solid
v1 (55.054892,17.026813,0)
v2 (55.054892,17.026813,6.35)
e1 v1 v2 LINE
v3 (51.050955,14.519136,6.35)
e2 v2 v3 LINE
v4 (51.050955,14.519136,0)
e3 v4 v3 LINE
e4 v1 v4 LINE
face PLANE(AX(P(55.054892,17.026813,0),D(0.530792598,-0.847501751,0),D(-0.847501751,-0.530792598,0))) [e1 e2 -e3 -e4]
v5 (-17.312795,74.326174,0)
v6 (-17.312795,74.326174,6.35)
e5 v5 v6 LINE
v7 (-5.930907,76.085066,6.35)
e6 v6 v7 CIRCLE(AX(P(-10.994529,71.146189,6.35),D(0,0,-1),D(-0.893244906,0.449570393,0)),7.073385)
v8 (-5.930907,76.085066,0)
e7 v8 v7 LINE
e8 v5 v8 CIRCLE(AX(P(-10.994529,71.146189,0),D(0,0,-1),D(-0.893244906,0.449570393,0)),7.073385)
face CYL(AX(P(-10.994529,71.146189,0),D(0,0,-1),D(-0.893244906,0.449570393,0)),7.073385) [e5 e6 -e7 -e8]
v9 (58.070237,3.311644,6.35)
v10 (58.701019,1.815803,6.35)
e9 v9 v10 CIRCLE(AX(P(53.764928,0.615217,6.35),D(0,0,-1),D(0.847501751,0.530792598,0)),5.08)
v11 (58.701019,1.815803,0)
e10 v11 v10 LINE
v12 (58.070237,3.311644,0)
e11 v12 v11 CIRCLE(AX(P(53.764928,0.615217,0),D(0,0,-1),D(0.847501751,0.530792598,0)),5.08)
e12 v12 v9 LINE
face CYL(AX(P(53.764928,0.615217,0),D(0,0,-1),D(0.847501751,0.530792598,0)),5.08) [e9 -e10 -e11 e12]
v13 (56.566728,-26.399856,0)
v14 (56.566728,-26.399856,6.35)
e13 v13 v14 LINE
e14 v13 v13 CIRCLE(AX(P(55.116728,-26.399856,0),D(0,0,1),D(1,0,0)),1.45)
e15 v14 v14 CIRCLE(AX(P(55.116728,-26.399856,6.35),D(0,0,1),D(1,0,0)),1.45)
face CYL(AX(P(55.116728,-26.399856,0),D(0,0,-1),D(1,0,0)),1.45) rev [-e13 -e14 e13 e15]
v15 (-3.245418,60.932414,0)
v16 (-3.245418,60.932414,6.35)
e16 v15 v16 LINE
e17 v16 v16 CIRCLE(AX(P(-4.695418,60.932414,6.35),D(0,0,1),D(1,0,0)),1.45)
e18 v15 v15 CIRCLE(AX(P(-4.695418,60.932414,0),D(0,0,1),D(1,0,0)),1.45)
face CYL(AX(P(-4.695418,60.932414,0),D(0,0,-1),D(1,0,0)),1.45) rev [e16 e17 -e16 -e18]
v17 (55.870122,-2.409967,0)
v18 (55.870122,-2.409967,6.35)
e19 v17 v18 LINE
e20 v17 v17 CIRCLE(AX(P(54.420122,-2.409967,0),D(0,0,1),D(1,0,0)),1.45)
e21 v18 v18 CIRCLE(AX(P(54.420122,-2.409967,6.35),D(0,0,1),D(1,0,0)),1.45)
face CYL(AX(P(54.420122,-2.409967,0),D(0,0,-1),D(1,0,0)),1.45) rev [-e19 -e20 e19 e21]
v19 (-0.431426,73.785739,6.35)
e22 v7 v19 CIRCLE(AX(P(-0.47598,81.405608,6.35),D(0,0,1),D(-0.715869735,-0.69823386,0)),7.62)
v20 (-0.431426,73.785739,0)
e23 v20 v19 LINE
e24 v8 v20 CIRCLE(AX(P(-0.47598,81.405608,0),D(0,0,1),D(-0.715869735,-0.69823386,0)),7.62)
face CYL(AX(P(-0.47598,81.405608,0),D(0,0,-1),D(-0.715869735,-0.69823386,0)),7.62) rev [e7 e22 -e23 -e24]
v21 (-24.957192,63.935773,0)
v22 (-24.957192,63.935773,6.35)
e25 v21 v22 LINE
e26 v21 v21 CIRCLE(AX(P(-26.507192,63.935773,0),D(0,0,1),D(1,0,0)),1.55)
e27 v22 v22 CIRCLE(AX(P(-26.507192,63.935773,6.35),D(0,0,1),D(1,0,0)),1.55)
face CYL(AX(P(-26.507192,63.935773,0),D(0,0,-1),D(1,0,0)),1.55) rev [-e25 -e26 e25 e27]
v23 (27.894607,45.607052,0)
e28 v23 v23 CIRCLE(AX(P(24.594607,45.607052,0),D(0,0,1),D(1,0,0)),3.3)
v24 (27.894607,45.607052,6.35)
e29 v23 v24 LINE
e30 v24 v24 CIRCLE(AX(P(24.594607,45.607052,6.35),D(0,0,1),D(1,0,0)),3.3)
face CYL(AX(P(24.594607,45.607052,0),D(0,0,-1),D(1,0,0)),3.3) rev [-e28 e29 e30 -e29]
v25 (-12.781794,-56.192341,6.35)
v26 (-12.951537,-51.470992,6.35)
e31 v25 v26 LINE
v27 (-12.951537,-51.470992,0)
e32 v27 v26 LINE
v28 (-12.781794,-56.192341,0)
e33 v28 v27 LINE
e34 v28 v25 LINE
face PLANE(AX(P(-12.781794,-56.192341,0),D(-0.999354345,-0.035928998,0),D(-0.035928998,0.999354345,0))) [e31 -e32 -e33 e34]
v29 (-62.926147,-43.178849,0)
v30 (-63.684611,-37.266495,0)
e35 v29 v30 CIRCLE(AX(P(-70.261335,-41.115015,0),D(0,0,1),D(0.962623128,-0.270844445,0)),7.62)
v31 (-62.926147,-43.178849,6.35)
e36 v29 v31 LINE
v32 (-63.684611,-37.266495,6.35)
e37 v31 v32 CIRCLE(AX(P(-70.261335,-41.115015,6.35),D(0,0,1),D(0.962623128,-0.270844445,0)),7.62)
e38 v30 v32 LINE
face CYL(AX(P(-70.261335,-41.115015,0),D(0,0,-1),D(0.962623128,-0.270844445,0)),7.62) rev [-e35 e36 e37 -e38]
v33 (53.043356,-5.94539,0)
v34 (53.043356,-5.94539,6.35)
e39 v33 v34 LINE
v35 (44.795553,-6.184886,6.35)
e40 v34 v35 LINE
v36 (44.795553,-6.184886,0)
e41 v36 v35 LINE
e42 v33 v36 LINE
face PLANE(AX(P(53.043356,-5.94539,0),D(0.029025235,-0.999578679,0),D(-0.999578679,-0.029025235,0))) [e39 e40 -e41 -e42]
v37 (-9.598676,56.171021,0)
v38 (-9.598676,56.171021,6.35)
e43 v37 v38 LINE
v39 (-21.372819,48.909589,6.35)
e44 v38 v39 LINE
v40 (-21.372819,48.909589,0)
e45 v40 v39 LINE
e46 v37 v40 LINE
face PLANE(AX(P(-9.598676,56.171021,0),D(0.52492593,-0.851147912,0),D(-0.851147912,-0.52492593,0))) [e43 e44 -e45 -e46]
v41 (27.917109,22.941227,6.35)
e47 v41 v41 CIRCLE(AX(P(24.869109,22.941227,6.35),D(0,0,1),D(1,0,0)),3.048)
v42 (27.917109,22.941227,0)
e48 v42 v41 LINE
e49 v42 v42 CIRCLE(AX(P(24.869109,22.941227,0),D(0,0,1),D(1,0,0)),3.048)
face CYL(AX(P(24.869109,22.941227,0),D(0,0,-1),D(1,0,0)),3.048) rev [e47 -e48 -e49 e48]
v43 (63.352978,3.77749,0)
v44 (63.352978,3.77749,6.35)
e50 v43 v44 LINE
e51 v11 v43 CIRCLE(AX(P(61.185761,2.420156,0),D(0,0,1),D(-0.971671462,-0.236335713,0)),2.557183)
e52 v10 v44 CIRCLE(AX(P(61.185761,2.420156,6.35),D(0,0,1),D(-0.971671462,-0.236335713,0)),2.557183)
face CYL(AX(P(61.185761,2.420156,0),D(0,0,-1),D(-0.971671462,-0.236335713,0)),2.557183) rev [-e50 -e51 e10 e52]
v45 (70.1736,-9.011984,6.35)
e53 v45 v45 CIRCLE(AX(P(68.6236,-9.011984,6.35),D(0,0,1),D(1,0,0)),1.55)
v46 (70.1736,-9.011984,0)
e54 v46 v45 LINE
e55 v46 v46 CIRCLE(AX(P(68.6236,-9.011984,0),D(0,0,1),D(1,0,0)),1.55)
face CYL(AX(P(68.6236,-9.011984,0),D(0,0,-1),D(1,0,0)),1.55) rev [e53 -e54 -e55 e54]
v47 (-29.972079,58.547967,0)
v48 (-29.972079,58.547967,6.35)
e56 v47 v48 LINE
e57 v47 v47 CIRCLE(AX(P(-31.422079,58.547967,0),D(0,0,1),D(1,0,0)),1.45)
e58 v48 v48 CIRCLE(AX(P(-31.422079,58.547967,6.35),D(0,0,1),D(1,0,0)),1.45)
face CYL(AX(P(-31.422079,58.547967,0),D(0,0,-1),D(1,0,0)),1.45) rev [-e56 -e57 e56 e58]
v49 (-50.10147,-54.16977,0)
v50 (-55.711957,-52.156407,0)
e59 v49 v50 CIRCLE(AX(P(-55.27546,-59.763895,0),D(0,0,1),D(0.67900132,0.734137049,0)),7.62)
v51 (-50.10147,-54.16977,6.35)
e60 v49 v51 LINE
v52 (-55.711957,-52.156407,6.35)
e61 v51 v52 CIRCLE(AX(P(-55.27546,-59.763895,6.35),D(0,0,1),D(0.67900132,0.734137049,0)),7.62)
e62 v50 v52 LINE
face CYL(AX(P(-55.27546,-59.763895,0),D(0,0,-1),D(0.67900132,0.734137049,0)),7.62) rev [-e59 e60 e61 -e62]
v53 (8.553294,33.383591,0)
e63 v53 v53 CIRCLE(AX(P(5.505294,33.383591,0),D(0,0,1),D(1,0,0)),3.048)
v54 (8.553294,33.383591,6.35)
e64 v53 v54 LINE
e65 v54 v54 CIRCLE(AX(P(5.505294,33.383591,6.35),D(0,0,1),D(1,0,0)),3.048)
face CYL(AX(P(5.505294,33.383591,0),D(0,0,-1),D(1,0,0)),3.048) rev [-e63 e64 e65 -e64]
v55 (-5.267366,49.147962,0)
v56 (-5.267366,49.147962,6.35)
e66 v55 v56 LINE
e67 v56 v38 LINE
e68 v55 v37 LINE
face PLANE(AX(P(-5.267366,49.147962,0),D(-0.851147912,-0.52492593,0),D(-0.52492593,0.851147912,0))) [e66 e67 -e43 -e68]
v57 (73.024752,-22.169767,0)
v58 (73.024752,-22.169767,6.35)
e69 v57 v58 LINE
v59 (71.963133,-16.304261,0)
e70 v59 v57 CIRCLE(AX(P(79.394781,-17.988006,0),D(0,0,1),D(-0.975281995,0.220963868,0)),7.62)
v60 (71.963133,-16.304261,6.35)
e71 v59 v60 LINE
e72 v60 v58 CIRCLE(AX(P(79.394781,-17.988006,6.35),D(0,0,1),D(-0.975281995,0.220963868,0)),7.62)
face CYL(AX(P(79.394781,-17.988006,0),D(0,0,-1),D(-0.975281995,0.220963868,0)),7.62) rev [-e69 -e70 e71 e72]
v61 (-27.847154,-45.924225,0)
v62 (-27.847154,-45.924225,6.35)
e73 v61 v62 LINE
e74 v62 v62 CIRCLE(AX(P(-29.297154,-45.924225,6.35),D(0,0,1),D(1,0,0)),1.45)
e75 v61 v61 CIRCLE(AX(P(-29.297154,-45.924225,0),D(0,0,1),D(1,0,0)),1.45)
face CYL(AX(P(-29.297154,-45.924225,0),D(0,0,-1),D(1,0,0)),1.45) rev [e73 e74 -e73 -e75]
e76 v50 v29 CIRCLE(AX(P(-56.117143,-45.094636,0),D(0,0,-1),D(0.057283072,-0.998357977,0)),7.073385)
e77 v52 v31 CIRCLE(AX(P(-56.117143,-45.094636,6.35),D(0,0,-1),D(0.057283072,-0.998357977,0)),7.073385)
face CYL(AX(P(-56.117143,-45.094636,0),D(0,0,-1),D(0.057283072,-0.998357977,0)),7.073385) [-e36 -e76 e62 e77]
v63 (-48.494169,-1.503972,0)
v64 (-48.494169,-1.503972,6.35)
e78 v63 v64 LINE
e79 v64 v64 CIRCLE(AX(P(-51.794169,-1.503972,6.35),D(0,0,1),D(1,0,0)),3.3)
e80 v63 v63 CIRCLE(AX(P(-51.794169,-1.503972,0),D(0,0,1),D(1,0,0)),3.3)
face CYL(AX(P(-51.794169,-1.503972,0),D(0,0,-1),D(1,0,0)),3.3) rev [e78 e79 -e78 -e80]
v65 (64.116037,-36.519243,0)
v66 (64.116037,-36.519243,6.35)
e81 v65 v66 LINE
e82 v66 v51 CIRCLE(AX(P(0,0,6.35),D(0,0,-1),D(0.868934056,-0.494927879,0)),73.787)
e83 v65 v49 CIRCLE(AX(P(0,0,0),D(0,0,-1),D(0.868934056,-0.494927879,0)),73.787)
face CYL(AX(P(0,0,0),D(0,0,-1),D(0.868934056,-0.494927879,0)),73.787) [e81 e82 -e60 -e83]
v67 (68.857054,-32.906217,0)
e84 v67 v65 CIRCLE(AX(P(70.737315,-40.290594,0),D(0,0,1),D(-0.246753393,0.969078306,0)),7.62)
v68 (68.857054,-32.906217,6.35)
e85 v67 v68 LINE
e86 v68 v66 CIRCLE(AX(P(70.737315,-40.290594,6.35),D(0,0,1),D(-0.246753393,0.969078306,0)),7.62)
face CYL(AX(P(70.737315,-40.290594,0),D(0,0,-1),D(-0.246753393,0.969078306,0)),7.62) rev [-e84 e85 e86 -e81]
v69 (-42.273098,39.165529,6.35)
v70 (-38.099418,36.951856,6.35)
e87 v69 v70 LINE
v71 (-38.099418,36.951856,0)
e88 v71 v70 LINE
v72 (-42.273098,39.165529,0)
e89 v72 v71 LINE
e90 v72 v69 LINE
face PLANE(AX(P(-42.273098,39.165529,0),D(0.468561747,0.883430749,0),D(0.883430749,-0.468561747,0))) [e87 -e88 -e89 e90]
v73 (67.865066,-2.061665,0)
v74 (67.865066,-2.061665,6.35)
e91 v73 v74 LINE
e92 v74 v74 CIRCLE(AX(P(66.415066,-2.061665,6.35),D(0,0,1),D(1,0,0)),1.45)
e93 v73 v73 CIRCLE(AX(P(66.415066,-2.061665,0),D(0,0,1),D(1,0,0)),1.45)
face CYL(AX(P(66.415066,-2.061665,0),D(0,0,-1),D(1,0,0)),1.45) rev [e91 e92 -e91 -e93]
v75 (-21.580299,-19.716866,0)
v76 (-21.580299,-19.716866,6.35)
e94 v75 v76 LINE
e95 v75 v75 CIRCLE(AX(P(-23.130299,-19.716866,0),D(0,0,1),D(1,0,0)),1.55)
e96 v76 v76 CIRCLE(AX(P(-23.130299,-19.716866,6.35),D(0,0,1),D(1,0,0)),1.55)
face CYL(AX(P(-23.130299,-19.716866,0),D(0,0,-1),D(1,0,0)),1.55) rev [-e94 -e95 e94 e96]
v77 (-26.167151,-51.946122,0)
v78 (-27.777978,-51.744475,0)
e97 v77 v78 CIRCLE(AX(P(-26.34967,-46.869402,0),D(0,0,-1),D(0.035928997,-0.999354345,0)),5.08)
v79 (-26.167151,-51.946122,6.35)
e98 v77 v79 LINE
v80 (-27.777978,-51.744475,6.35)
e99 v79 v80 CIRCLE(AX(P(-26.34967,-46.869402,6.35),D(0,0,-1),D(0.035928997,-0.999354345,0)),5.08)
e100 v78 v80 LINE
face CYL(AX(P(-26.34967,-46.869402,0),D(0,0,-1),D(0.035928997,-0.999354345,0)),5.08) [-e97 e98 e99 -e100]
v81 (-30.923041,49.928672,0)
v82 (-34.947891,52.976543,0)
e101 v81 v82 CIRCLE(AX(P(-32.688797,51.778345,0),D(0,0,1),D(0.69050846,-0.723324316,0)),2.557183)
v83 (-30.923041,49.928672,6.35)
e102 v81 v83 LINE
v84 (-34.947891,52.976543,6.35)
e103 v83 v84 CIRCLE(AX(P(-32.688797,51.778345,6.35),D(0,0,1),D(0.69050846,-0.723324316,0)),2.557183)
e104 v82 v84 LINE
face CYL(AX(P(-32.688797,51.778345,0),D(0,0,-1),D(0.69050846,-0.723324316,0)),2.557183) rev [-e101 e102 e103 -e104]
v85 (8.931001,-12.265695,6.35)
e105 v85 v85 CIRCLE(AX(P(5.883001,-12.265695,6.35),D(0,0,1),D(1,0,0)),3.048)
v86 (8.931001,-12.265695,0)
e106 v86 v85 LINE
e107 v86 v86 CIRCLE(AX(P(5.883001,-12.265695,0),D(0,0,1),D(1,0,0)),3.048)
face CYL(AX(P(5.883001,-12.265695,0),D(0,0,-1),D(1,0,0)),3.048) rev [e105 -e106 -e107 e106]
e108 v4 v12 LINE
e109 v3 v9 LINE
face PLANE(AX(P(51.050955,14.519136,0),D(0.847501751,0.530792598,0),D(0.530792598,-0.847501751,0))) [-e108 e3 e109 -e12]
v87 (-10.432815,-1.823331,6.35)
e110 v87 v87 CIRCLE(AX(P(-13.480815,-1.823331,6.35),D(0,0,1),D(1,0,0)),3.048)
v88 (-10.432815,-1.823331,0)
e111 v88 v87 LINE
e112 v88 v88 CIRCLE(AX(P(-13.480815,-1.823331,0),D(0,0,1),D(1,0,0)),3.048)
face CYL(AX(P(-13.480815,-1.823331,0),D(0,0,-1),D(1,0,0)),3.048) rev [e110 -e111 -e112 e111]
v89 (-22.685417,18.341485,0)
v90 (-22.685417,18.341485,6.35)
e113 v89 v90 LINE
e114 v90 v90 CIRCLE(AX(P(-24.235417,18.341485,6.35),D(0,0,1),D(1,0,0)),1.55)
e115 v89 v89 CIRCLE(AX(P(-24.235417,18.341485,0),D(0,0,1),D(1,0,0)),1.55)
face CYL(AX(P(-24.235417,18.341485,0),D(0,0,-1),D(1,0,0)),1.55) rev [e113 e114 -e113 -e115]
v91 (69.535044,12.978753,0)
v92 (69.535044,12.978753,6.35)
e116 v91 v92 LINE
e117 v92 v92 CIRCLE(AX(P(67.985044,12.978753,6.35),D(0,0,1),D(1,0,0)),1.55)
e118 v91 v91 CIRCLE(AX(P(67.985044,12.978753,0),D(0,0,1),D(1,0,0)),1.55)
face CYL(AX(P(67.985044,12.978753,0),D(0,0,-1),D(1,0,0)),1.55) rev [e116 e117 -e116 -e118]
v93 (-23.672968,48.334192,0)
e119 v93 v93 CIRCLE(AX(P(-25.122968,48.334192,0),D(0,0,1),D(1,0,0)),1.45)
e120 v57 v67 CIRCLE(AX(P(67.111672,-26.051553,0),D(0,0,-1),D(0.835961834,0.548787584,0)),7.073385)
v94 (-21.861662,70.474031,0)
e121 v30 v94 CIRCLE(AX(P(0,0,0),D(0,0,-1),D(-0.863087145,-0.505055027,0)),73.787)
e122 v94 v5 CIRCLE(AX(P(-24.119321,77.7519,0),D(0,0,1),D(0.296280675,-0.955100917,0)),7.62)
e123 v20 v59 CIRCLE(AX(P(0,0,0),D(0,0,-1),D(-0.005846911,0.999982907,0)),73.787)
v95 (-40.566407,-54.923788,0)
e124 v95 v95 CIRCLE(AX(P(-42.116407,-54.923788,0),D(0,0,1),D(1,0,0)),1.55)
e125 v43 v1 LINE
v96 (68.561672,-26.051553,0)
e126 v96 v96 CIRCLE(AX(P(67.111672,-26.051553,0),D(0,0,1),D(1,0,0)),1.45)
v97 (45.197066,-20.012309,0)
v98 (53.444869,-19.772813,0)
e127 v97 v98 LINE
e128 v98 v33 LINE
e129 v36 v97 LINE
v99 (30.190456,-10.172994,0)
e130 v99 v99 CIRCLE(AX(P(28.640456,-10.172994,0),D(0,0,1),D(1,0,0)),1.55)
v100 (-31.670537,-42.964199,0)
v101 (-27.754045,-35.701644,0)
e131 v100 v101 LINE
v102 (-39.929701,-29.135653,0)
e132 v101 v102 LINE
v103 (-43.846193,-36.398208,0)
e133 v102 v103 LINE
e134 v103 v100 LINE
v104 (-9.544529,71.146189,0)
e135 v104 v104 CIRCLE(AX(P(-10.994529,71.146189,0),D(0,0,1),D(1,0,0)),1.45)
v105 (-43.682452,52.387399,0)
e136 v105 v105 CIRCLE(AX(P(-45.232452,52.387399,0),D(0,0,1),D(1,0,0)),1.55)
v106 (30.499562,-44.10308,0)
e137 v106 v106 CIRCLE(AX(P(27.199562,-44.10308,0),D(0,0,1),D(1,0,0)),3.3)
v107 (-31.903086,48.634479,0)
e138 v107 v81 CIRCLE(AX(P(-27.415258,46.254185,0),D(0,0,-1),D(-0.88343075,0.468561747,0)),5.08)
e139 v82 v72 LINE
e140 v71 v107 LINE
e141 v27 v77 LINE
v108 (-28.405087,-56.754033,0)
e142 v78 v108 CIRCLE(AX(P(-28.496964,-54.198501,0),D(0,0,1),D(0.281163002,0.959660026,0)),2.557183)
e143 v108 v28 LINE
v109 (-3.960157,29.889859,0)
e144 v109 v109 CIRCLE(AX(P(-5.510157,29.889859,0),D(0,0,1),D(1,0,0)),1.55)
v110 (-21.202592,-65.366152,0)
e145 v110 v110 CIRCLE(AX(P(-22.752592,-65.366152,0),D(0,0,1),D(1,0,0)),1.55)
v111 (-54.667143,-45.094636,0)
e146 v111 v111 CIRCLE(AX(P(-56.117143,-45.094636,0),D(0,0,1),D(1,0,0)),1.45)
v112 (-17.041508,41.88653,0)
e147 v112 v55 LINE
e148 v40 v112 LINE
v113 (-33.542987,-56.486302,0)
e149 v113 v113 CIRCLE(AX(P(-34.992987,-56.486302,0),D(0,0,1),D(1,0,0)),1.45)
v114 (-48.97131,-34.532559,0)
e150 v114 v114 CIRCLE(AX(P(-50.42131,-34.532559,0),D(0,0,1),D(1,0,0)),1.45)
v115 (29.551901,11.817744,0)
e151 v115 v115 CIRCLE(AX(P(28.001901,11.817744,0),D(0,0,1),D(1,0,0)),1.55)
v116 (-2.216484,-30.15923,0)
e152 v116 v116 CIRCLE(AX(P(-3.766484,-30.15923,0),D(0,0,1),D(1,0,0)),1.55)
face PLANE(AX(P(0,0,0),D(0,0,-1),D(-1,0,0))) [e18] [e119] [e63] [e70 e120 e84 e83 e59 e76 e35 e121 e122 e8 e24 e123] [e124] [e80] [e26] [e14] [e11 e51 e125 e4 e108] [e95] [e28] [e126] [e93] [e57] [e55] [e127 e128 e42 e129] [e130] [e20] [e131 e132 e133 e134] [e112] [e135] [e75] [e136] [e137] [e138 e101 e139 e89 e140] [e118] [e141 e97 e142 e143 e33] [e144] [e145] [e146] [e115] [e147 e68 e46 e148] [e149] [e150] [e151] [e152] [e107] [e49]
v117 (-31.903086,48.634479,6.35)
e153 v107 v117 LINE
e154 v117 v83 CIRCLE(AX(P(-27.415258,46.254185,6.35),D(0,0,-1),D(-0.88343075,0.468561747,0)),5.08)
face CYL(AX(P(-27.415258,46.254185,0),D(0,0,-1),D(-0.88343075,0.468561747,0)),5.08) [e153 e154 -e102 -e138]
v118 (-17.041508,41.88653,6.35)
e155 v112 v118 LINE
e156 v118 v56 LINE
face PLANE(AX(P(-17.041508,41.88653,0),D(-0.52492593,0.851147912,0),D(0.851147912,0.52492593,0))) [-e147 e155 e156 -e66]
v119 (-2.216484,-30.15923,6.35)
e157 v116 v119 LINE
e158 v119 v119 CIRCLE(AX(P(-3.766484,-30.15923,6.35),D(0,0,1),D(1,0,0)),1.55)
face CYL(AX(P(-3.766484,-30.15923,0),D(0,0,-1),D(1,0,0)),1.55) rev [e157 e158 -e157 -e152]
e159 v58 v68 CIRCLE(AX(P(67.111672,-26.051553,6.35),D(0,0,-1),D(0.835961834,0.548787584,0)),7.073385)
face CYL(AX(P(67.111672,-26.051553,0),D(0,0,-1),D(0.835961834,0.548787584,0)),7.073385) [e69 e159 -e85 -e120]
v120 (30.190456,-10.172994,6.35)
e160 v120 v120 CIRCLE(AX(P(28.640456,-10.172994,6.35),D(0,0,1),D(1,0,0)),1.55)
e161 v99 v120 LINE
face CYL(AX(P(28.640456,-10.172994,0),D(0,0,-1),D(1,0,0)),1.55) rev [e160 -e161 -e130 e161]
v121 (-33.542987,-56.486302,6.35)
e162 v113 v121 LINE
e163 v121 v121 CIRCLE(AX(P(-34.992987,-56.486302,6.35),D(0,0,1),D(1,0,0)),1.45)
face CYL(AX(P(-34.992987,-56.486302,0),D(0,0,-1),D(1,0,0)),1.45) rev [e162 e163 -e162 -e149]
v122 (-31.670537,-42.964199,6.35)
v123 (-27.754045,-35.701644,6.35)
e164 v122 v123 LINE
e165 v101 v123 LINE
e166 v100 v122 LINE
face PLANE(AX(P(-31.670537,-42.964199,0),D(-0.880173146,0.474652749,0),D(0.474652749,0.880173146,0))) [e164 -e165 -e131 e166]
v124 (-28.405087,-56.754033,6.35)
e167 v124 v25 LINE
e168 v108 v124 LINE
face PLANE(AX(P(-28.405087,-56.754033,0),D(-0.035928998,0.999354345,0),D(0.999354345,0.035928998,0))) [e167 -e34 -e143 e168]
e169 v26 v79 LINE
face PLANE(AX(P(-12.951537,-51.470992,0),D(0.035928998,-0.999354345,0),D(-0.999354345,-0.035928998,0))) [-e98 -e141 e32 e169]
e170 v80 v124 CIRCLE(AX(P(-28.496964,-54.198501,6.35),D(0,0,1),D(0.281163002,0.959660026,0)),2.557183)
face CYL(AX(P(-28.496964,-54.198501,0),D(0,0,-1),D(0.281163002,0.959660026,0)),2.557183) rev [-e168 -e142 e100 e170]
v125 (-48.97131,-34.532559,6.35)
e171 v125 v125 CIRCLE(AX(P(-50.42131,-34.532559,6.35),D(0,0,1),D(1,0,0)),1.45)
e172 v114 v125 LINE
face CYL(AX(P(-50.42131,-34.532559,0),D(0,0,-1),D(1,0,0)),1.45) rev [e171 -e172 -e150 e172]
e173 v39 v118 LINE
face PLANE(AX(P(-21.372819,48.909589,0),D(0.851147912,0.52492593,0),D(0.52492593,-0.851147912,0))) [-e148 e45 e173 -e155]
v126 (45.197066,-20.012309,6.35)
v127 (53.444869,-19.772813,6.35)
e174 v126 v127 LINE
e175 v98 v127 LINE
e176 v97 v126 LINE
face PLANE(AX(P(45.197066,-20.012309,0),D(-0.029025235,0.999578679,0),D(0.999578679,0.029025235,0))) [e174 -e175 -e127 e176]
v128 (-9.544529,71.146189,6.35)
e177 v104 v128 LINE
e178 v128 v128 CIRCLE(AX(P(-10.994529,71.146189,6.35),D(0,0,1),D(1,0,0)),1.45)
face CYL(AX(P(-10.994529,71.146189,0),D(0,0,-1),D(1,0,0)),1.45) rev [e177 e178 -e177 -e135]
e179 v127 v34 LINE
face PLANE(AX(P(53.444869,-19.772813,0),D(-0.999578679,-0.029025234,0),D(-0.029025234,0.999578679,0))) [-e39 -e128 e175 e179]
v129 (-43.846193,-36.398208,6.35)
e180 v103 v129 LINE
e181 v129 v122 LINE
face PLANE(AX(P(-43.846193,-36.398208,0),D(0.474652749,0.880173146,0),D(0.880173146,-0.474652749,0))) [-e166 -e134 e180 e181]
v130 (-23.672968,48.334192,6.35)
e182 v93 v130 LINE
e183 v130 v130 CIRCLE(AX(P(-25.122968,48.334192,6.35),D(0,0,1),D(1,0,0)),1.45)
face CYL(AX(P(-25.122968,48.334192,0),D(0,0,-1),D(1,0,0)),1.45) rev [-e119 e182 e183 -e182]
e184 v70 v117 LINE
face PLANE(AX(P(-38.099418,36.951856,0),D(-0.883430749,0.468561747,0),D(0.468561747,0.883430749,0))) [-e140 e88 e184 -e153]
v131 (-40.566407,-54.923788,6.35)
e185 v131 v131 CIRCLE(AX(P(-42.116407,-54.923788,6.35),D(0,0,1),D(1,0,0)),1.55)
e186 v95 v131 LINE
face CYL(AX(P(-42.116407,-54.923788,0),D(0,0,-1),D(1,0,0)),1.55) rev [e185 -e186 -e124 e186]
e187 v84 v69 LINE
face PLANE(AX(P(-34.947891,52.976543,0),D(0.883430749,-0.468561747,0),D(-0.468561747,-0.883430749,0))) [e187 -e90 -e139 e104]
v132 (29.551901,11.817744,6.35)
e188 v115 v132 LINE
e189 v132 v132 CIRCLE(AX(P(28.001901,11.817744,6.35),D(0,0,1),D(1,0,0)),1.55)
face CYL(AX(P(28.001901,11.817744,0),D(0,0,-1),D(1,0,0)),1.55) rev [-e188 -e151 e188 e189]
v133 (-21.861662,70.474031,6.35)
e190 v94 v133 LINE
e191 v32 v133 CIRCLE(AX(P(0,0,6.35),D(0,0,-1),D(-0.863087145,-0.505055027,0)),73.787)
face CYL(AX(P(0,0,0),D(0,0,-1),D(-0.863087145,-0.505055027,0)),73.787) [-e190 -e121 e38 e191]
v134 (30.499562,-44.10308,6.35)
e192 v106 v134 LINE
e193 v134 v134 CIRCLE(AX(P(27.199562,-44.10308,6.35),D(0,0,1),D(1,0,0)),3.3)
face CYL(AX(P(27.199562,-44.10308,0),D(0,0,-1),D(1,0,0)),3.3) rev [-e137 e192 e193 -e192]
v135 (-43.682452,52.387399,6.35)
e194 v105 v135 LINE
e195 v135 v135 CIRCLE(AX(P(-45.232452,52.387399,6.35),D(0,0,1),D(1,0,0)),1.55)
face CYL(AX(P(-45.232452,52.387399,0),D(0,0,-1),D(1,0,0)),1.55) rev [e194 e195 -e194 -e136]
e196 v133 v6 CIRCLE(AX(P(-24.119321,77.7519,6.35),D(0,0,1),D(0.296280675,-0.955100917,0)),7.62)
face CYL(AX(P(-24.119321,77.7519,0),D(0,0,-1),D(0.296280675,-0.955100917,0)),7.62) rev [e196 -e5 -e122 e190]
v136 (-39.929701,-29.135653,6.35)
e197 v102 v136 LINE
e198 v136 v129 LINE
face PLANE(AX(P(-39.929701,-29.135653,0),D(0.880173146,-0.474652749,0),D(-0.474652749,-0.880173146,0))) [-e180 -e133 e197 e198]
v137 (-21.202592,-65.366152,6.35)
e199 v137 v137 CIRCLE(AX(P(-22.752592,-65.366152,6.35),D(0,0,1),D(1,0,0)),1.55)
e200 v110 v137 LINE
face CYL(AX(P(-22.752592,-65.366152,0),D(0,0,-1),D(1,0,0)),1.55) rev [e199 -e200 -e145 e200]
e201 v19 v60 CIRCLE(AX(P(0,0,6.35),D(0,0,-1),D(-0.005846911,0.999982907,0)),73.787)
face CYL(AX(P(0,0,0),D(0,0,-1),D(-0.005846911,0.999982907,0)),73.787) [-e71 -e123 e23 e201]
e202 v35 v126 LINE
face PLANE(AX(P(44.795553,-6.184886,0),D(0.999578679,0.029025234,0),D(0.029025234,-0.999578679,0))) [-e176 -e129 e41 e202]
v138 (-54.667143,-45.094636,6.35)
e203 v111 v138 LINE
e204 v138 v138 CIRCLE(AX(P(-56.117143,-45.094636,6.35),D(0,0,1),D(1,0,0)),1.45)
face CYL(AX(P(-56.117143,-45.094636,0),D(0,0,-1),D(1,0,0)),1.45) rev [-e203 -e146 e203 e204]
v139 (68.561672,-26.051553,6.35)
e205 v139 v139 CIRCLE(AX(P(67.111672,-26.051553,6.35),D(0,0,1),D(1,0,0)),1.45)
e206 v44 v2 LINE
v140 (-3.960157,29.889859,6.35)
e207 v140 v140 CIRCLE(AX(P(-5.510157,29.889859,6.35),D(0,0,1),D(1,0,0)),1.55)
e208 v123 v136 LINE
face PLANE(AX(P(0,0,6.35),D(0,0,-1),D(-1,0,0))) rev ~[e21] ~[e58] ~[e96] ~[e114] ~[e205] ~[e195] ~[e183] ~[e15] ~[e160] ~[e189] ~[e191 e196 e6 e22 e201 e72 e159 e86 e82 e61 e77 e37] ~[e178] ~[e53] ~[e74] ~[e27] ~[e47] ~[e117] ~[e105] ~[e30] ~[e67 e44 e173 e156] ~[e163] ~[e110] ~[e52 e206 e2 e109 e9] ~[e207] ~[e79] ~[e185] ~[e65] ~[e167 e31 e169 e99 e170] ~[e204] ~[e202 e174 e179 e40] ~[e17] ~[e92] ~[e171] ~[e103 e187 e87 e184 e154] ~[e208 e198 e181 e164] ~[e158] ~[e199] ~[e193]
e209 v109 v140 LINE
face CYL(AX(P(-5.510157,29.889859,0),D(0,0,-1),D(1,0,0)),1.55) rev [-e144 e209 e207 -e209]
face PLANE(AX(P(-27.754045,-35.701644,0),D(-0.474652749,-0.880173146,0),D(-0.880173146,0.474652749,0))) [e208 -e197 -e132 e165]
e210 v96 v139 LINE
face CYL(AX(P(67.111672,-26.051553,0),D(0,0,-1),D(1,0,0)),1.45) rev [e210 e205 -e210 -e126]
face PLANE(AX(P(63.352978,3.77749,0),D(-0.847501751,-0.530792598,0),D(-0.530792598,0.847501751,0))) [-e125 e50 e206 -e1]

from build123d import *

# Parameters (mm, degrees)
MODEL_R             = 1.45
MODEL_R_2           = 1.55
MODEL_R_3           = 3.3
MODEL_R_4           = 3.048
BOSS_EXTRUDE1_DEPTH = 6.35


with BuildPart() as part:
    # Model → Boss-Extrude1 (new body)
    with BuildSketch(Plane.XY):
        with BuildLine():
            ThreePointArc((71.963132539, -16.30426092), (71.896606956, -19.345127891), (73.024752162, -22.169766979))
            ThreePointArc((73.024752162, -22.169766979), (73.705673151, -28.611226497), (68.857053859, -32.906217194))
            ThreePointArc((68.857053859, -32.906217194), (66.118599711, -34.22991144), (64.11603721, -36.519243442))
            ThreePointArc((64.11603721, -36.519243442), (11.268864031, -72.921423961), (-50.101470416, -54.169770455))
            ThreePointArc((-50.101470416, -54.169770455), (-52.70167567, -52.591724124), (-55.71195748, -52.156406987))
            ThreePointArc((-55.71195748, -52.156406987), (-61.630885553, -49.525372103), (-62.92614696, -43.178849276))
            ThreePointArc((-62.92614696, -43.178849276), (-62.703272731, -40.145431292), (-63.684611152, -37.266495293))
            ThreePointArc((-63.684611152, -37.266495293), (-68.786237646, 26.701589457), (-21.861662123, 70.474031375))
            ThreePointArc((-21.861662123, 70.474031375), (-19.194931286, 71.936852015), (-17.312794682, 74.326173966))
            ThreePointArc((-17.312794682, 74.326173966), (-12.074787597, 78.1365986), (-5.930906899, 76.08506647))
            ThreePointArc((-5.930906899, 76.08506647), (-3.41532698, 74.375342732), (-0.431426057, 73.785738734))
            ThreePointArc((-0.431426057, 73.785738734), (57.517373614, 46.219834503), (71.963132539, -16.30426092))
        make_face()
        with Locations((-10.994529329, 71.146189371)):
            Circle(MODEL_R, mode=Mode.SUBTRACT)
        with Locations((-56.117142713, -45.094636387)):
            Circle(MODEL_R, mode=Mode.SUBTRACT)
        with Locations((-4.695418168, 60.932414429)):
            Circle(MODEL_R, mode=Mode.SUBTRACT)
        with Locations((-31.422079216, 58.547967052)):
            Circle(MODEL_R, mode=Mode.SUBTRACT)
        with Locations((-25.122968055, 48.33419211)):
            Circle(MODEL_R, mode=Mode.SUBTRACT)
        with Locations((-50.421309724, -34.532558628)):
            Circle(MODEL_R, mode=Mode.SUBTRACT)
        with Locations((-34.9929872, -56.486302366)):
            Circle(MODEL_R, mode=Mode.SUBTRACT)
        with Locations((-29.29715421, -45.924224608)):
            Circle(MODEL_R, mode=Mode.SUBTRACT)
        with Locations((67.111672043, -26.051552984)):
            Circle(MODEL_R, mode=Mode.SUBTRACT)
        with Locations((-24.235417087, 18.341485339)):
            Circle(MODEL_R_2, mode=Mode.SUBTRACT)
        with Locations((-5.510157235, 29.889859367)):
            Circle(MODEL_R_2, mode=Mode.SUBTRACT)
        with Locations((-26.507192439, 63.935772611)):
            Circle(MODEL_R_2, mode=Mode.SUBTRACT)
        with Locations((-45.232452291, 52.387398583)):
            Circle(MODEL_R_2, mode=Mode.SUBTRACT)
        with Locations((-22.752591866, -65.366152049)):
            Circle(MODEL_R_2, mode=Mode.SUBTRACT)
        with Locations((-42.116407073, -54.923788341)):
            Circle(MODEL_R_2, mode=Mode.SUBTRACT)
        with Locations((-3.766483704, -30.159229537)):
            Circle(MODEL_R_2, mode=Mode.SUBTRACT)
        with Locations((-23.130298911, -19.716865827)):
            Circle(MODEL_R_2, mode=Mode.SUBTRACT)
        with Locations((28.001900788, 11.817744198)):
            Circle(MODEL_R_2, mode=Mode.SUBTRACT)
        with Locations((28.640456145, -10.17299354)):
            Circle(MODEL_R_2, mode=Mode.SUBTRACT)
        with Locations((68.623599511, -9.01198427)):
            Circle(MODEL_R_2, mode=Mode.SUBTRACT)
        with Locations((67.985044157, 12.978753468)):
            Circle(MODEL_R_2, mode=Mode.SUBTRACT)
        with Locations((27.199561986, -44.103080206)):
            Circle(MODEL_R_3, mode=Mode.SUBTRACT)
        with Locations((24.594606851, 45.607051755)):
            Circle(MODEL_R_3, mode=Mode.SUBTRACT)
        with Locations((-51.794168837, -1.503971549)):
            Circle(MODEL_R_3, mode=Mode.SUBTRACT)
        with Locations((-13.480814628, -1.823331492)):
            Circle(MODEL_R_4, mode=Mode.SUBTRACT)
        with Locations((5.883000578, -12.265695202)):
            Circle(MODEL_R_4, mode=Mode.SUBTRACT)
        with Locations((24.86910874, 22.94122731)):
            Circle(MODEL_R_4, mode=Mode.SUBTRACT)
        with Locations((5.505293533, 33.38359102)):
            Circle(MODEL_R_4, mode=Mode.SUBTRACT)
        with Locations((54.420122264, -2.409967499)):
            Circle(MODEL_R, mode=Mode.SUBTRACT)
        with Locations((66.415066415, -2.061664685)):
            Circle(MODEL_R, mode=Mode.SUBTRACT)
        with Locations((55.116727894, -26.399855798)):
            Circle(MODEL_R, mode=Mode.SUBTRACT)
        with BuildLine():
            Line((-34.947891278, 52.97654312), (-42.273098177, 39.165528758))
            Line((-42.273098177, 39.165528758), (-38.099417944, 36.951855639))
            Line((-38.099417944, 36.951855639), (-31.90308597, 48.634478542))
            ThreePointArc((-31.90308597, 48.634478542), (-31.465095291, 49.320977327), (-30.923040746, 49.928672388))
            ThreePointArc((-30.923040746, 49.928672388), (-31.145027643, 53.816962234), (-34.947891278, 52.97654312))
        make_face(mode=Mode.SUBTRACT)
        with BuildLine():
            Line((63.352977787, 3.777490095), (55.054891945, 17.02681254))
            Line((55.054891945, 17.02681254), (51.050954672, 14.519135991))
            Line((51.050954672, 14.519135991), (58.070236902, 3.311643638))
            ThreePointArc((58.070236902, 3.311643638), (58.44576695, 2.589083191), (58.701019038, 1.815802654))
            ThreePointArc((58.701019038, 1.815802654), (62.179370269, 0.06390403), (63.352977787, 3.777490095))
        make_face(mode=Mode.SUBTRACT)
        with BuildLine():
            Line((-28.40508651, -56.754033215), (-12.781793768, -56.192341298))
            Line((-12.781793768, -56.192341298), (-12.951536728, -51.47099163))
            Line((-12.951536728, -51.47099163), (-26.167150935, -51.946122181))
            ThreePointArc((-26.167150935, -51.946122181), (-26.980671662, -51.910060518), (-27.777978294, -51.744475042))
            ThreePointArc((-27.777978294, -51.744475042), (-31.034342627, -53.880866258), (-28.40508651, -56.754033215))
        make_face(mode=Mode.SUBTRACT)
        Polygon((53.043356097, -5.945390314), (44.795552885, -6.184885641), (45.197066243, -20.012308543), (53.444869455, -19.772813215), align=None, mode=Mode.SUBTRACT)
        Polygon((-21.372819002, 48.909589039), (-17.041508358, 41.886529595), (-5.267365536, 49.147961813), (-9.598676177, 56.171021257), align=None, mode=Mode.SUBTRACT)
        Polygon((-31.670537096, -42.964198725), (-27.754044527, -35.701643953), (-39.929700707, -29.13565327), (-43.846193278, -36.398208042), align=None, mode=Mode.SUBTRACT)
    extrude(amount=BOSS_EXTRUDE1_DEPTH)


solid = part.part
